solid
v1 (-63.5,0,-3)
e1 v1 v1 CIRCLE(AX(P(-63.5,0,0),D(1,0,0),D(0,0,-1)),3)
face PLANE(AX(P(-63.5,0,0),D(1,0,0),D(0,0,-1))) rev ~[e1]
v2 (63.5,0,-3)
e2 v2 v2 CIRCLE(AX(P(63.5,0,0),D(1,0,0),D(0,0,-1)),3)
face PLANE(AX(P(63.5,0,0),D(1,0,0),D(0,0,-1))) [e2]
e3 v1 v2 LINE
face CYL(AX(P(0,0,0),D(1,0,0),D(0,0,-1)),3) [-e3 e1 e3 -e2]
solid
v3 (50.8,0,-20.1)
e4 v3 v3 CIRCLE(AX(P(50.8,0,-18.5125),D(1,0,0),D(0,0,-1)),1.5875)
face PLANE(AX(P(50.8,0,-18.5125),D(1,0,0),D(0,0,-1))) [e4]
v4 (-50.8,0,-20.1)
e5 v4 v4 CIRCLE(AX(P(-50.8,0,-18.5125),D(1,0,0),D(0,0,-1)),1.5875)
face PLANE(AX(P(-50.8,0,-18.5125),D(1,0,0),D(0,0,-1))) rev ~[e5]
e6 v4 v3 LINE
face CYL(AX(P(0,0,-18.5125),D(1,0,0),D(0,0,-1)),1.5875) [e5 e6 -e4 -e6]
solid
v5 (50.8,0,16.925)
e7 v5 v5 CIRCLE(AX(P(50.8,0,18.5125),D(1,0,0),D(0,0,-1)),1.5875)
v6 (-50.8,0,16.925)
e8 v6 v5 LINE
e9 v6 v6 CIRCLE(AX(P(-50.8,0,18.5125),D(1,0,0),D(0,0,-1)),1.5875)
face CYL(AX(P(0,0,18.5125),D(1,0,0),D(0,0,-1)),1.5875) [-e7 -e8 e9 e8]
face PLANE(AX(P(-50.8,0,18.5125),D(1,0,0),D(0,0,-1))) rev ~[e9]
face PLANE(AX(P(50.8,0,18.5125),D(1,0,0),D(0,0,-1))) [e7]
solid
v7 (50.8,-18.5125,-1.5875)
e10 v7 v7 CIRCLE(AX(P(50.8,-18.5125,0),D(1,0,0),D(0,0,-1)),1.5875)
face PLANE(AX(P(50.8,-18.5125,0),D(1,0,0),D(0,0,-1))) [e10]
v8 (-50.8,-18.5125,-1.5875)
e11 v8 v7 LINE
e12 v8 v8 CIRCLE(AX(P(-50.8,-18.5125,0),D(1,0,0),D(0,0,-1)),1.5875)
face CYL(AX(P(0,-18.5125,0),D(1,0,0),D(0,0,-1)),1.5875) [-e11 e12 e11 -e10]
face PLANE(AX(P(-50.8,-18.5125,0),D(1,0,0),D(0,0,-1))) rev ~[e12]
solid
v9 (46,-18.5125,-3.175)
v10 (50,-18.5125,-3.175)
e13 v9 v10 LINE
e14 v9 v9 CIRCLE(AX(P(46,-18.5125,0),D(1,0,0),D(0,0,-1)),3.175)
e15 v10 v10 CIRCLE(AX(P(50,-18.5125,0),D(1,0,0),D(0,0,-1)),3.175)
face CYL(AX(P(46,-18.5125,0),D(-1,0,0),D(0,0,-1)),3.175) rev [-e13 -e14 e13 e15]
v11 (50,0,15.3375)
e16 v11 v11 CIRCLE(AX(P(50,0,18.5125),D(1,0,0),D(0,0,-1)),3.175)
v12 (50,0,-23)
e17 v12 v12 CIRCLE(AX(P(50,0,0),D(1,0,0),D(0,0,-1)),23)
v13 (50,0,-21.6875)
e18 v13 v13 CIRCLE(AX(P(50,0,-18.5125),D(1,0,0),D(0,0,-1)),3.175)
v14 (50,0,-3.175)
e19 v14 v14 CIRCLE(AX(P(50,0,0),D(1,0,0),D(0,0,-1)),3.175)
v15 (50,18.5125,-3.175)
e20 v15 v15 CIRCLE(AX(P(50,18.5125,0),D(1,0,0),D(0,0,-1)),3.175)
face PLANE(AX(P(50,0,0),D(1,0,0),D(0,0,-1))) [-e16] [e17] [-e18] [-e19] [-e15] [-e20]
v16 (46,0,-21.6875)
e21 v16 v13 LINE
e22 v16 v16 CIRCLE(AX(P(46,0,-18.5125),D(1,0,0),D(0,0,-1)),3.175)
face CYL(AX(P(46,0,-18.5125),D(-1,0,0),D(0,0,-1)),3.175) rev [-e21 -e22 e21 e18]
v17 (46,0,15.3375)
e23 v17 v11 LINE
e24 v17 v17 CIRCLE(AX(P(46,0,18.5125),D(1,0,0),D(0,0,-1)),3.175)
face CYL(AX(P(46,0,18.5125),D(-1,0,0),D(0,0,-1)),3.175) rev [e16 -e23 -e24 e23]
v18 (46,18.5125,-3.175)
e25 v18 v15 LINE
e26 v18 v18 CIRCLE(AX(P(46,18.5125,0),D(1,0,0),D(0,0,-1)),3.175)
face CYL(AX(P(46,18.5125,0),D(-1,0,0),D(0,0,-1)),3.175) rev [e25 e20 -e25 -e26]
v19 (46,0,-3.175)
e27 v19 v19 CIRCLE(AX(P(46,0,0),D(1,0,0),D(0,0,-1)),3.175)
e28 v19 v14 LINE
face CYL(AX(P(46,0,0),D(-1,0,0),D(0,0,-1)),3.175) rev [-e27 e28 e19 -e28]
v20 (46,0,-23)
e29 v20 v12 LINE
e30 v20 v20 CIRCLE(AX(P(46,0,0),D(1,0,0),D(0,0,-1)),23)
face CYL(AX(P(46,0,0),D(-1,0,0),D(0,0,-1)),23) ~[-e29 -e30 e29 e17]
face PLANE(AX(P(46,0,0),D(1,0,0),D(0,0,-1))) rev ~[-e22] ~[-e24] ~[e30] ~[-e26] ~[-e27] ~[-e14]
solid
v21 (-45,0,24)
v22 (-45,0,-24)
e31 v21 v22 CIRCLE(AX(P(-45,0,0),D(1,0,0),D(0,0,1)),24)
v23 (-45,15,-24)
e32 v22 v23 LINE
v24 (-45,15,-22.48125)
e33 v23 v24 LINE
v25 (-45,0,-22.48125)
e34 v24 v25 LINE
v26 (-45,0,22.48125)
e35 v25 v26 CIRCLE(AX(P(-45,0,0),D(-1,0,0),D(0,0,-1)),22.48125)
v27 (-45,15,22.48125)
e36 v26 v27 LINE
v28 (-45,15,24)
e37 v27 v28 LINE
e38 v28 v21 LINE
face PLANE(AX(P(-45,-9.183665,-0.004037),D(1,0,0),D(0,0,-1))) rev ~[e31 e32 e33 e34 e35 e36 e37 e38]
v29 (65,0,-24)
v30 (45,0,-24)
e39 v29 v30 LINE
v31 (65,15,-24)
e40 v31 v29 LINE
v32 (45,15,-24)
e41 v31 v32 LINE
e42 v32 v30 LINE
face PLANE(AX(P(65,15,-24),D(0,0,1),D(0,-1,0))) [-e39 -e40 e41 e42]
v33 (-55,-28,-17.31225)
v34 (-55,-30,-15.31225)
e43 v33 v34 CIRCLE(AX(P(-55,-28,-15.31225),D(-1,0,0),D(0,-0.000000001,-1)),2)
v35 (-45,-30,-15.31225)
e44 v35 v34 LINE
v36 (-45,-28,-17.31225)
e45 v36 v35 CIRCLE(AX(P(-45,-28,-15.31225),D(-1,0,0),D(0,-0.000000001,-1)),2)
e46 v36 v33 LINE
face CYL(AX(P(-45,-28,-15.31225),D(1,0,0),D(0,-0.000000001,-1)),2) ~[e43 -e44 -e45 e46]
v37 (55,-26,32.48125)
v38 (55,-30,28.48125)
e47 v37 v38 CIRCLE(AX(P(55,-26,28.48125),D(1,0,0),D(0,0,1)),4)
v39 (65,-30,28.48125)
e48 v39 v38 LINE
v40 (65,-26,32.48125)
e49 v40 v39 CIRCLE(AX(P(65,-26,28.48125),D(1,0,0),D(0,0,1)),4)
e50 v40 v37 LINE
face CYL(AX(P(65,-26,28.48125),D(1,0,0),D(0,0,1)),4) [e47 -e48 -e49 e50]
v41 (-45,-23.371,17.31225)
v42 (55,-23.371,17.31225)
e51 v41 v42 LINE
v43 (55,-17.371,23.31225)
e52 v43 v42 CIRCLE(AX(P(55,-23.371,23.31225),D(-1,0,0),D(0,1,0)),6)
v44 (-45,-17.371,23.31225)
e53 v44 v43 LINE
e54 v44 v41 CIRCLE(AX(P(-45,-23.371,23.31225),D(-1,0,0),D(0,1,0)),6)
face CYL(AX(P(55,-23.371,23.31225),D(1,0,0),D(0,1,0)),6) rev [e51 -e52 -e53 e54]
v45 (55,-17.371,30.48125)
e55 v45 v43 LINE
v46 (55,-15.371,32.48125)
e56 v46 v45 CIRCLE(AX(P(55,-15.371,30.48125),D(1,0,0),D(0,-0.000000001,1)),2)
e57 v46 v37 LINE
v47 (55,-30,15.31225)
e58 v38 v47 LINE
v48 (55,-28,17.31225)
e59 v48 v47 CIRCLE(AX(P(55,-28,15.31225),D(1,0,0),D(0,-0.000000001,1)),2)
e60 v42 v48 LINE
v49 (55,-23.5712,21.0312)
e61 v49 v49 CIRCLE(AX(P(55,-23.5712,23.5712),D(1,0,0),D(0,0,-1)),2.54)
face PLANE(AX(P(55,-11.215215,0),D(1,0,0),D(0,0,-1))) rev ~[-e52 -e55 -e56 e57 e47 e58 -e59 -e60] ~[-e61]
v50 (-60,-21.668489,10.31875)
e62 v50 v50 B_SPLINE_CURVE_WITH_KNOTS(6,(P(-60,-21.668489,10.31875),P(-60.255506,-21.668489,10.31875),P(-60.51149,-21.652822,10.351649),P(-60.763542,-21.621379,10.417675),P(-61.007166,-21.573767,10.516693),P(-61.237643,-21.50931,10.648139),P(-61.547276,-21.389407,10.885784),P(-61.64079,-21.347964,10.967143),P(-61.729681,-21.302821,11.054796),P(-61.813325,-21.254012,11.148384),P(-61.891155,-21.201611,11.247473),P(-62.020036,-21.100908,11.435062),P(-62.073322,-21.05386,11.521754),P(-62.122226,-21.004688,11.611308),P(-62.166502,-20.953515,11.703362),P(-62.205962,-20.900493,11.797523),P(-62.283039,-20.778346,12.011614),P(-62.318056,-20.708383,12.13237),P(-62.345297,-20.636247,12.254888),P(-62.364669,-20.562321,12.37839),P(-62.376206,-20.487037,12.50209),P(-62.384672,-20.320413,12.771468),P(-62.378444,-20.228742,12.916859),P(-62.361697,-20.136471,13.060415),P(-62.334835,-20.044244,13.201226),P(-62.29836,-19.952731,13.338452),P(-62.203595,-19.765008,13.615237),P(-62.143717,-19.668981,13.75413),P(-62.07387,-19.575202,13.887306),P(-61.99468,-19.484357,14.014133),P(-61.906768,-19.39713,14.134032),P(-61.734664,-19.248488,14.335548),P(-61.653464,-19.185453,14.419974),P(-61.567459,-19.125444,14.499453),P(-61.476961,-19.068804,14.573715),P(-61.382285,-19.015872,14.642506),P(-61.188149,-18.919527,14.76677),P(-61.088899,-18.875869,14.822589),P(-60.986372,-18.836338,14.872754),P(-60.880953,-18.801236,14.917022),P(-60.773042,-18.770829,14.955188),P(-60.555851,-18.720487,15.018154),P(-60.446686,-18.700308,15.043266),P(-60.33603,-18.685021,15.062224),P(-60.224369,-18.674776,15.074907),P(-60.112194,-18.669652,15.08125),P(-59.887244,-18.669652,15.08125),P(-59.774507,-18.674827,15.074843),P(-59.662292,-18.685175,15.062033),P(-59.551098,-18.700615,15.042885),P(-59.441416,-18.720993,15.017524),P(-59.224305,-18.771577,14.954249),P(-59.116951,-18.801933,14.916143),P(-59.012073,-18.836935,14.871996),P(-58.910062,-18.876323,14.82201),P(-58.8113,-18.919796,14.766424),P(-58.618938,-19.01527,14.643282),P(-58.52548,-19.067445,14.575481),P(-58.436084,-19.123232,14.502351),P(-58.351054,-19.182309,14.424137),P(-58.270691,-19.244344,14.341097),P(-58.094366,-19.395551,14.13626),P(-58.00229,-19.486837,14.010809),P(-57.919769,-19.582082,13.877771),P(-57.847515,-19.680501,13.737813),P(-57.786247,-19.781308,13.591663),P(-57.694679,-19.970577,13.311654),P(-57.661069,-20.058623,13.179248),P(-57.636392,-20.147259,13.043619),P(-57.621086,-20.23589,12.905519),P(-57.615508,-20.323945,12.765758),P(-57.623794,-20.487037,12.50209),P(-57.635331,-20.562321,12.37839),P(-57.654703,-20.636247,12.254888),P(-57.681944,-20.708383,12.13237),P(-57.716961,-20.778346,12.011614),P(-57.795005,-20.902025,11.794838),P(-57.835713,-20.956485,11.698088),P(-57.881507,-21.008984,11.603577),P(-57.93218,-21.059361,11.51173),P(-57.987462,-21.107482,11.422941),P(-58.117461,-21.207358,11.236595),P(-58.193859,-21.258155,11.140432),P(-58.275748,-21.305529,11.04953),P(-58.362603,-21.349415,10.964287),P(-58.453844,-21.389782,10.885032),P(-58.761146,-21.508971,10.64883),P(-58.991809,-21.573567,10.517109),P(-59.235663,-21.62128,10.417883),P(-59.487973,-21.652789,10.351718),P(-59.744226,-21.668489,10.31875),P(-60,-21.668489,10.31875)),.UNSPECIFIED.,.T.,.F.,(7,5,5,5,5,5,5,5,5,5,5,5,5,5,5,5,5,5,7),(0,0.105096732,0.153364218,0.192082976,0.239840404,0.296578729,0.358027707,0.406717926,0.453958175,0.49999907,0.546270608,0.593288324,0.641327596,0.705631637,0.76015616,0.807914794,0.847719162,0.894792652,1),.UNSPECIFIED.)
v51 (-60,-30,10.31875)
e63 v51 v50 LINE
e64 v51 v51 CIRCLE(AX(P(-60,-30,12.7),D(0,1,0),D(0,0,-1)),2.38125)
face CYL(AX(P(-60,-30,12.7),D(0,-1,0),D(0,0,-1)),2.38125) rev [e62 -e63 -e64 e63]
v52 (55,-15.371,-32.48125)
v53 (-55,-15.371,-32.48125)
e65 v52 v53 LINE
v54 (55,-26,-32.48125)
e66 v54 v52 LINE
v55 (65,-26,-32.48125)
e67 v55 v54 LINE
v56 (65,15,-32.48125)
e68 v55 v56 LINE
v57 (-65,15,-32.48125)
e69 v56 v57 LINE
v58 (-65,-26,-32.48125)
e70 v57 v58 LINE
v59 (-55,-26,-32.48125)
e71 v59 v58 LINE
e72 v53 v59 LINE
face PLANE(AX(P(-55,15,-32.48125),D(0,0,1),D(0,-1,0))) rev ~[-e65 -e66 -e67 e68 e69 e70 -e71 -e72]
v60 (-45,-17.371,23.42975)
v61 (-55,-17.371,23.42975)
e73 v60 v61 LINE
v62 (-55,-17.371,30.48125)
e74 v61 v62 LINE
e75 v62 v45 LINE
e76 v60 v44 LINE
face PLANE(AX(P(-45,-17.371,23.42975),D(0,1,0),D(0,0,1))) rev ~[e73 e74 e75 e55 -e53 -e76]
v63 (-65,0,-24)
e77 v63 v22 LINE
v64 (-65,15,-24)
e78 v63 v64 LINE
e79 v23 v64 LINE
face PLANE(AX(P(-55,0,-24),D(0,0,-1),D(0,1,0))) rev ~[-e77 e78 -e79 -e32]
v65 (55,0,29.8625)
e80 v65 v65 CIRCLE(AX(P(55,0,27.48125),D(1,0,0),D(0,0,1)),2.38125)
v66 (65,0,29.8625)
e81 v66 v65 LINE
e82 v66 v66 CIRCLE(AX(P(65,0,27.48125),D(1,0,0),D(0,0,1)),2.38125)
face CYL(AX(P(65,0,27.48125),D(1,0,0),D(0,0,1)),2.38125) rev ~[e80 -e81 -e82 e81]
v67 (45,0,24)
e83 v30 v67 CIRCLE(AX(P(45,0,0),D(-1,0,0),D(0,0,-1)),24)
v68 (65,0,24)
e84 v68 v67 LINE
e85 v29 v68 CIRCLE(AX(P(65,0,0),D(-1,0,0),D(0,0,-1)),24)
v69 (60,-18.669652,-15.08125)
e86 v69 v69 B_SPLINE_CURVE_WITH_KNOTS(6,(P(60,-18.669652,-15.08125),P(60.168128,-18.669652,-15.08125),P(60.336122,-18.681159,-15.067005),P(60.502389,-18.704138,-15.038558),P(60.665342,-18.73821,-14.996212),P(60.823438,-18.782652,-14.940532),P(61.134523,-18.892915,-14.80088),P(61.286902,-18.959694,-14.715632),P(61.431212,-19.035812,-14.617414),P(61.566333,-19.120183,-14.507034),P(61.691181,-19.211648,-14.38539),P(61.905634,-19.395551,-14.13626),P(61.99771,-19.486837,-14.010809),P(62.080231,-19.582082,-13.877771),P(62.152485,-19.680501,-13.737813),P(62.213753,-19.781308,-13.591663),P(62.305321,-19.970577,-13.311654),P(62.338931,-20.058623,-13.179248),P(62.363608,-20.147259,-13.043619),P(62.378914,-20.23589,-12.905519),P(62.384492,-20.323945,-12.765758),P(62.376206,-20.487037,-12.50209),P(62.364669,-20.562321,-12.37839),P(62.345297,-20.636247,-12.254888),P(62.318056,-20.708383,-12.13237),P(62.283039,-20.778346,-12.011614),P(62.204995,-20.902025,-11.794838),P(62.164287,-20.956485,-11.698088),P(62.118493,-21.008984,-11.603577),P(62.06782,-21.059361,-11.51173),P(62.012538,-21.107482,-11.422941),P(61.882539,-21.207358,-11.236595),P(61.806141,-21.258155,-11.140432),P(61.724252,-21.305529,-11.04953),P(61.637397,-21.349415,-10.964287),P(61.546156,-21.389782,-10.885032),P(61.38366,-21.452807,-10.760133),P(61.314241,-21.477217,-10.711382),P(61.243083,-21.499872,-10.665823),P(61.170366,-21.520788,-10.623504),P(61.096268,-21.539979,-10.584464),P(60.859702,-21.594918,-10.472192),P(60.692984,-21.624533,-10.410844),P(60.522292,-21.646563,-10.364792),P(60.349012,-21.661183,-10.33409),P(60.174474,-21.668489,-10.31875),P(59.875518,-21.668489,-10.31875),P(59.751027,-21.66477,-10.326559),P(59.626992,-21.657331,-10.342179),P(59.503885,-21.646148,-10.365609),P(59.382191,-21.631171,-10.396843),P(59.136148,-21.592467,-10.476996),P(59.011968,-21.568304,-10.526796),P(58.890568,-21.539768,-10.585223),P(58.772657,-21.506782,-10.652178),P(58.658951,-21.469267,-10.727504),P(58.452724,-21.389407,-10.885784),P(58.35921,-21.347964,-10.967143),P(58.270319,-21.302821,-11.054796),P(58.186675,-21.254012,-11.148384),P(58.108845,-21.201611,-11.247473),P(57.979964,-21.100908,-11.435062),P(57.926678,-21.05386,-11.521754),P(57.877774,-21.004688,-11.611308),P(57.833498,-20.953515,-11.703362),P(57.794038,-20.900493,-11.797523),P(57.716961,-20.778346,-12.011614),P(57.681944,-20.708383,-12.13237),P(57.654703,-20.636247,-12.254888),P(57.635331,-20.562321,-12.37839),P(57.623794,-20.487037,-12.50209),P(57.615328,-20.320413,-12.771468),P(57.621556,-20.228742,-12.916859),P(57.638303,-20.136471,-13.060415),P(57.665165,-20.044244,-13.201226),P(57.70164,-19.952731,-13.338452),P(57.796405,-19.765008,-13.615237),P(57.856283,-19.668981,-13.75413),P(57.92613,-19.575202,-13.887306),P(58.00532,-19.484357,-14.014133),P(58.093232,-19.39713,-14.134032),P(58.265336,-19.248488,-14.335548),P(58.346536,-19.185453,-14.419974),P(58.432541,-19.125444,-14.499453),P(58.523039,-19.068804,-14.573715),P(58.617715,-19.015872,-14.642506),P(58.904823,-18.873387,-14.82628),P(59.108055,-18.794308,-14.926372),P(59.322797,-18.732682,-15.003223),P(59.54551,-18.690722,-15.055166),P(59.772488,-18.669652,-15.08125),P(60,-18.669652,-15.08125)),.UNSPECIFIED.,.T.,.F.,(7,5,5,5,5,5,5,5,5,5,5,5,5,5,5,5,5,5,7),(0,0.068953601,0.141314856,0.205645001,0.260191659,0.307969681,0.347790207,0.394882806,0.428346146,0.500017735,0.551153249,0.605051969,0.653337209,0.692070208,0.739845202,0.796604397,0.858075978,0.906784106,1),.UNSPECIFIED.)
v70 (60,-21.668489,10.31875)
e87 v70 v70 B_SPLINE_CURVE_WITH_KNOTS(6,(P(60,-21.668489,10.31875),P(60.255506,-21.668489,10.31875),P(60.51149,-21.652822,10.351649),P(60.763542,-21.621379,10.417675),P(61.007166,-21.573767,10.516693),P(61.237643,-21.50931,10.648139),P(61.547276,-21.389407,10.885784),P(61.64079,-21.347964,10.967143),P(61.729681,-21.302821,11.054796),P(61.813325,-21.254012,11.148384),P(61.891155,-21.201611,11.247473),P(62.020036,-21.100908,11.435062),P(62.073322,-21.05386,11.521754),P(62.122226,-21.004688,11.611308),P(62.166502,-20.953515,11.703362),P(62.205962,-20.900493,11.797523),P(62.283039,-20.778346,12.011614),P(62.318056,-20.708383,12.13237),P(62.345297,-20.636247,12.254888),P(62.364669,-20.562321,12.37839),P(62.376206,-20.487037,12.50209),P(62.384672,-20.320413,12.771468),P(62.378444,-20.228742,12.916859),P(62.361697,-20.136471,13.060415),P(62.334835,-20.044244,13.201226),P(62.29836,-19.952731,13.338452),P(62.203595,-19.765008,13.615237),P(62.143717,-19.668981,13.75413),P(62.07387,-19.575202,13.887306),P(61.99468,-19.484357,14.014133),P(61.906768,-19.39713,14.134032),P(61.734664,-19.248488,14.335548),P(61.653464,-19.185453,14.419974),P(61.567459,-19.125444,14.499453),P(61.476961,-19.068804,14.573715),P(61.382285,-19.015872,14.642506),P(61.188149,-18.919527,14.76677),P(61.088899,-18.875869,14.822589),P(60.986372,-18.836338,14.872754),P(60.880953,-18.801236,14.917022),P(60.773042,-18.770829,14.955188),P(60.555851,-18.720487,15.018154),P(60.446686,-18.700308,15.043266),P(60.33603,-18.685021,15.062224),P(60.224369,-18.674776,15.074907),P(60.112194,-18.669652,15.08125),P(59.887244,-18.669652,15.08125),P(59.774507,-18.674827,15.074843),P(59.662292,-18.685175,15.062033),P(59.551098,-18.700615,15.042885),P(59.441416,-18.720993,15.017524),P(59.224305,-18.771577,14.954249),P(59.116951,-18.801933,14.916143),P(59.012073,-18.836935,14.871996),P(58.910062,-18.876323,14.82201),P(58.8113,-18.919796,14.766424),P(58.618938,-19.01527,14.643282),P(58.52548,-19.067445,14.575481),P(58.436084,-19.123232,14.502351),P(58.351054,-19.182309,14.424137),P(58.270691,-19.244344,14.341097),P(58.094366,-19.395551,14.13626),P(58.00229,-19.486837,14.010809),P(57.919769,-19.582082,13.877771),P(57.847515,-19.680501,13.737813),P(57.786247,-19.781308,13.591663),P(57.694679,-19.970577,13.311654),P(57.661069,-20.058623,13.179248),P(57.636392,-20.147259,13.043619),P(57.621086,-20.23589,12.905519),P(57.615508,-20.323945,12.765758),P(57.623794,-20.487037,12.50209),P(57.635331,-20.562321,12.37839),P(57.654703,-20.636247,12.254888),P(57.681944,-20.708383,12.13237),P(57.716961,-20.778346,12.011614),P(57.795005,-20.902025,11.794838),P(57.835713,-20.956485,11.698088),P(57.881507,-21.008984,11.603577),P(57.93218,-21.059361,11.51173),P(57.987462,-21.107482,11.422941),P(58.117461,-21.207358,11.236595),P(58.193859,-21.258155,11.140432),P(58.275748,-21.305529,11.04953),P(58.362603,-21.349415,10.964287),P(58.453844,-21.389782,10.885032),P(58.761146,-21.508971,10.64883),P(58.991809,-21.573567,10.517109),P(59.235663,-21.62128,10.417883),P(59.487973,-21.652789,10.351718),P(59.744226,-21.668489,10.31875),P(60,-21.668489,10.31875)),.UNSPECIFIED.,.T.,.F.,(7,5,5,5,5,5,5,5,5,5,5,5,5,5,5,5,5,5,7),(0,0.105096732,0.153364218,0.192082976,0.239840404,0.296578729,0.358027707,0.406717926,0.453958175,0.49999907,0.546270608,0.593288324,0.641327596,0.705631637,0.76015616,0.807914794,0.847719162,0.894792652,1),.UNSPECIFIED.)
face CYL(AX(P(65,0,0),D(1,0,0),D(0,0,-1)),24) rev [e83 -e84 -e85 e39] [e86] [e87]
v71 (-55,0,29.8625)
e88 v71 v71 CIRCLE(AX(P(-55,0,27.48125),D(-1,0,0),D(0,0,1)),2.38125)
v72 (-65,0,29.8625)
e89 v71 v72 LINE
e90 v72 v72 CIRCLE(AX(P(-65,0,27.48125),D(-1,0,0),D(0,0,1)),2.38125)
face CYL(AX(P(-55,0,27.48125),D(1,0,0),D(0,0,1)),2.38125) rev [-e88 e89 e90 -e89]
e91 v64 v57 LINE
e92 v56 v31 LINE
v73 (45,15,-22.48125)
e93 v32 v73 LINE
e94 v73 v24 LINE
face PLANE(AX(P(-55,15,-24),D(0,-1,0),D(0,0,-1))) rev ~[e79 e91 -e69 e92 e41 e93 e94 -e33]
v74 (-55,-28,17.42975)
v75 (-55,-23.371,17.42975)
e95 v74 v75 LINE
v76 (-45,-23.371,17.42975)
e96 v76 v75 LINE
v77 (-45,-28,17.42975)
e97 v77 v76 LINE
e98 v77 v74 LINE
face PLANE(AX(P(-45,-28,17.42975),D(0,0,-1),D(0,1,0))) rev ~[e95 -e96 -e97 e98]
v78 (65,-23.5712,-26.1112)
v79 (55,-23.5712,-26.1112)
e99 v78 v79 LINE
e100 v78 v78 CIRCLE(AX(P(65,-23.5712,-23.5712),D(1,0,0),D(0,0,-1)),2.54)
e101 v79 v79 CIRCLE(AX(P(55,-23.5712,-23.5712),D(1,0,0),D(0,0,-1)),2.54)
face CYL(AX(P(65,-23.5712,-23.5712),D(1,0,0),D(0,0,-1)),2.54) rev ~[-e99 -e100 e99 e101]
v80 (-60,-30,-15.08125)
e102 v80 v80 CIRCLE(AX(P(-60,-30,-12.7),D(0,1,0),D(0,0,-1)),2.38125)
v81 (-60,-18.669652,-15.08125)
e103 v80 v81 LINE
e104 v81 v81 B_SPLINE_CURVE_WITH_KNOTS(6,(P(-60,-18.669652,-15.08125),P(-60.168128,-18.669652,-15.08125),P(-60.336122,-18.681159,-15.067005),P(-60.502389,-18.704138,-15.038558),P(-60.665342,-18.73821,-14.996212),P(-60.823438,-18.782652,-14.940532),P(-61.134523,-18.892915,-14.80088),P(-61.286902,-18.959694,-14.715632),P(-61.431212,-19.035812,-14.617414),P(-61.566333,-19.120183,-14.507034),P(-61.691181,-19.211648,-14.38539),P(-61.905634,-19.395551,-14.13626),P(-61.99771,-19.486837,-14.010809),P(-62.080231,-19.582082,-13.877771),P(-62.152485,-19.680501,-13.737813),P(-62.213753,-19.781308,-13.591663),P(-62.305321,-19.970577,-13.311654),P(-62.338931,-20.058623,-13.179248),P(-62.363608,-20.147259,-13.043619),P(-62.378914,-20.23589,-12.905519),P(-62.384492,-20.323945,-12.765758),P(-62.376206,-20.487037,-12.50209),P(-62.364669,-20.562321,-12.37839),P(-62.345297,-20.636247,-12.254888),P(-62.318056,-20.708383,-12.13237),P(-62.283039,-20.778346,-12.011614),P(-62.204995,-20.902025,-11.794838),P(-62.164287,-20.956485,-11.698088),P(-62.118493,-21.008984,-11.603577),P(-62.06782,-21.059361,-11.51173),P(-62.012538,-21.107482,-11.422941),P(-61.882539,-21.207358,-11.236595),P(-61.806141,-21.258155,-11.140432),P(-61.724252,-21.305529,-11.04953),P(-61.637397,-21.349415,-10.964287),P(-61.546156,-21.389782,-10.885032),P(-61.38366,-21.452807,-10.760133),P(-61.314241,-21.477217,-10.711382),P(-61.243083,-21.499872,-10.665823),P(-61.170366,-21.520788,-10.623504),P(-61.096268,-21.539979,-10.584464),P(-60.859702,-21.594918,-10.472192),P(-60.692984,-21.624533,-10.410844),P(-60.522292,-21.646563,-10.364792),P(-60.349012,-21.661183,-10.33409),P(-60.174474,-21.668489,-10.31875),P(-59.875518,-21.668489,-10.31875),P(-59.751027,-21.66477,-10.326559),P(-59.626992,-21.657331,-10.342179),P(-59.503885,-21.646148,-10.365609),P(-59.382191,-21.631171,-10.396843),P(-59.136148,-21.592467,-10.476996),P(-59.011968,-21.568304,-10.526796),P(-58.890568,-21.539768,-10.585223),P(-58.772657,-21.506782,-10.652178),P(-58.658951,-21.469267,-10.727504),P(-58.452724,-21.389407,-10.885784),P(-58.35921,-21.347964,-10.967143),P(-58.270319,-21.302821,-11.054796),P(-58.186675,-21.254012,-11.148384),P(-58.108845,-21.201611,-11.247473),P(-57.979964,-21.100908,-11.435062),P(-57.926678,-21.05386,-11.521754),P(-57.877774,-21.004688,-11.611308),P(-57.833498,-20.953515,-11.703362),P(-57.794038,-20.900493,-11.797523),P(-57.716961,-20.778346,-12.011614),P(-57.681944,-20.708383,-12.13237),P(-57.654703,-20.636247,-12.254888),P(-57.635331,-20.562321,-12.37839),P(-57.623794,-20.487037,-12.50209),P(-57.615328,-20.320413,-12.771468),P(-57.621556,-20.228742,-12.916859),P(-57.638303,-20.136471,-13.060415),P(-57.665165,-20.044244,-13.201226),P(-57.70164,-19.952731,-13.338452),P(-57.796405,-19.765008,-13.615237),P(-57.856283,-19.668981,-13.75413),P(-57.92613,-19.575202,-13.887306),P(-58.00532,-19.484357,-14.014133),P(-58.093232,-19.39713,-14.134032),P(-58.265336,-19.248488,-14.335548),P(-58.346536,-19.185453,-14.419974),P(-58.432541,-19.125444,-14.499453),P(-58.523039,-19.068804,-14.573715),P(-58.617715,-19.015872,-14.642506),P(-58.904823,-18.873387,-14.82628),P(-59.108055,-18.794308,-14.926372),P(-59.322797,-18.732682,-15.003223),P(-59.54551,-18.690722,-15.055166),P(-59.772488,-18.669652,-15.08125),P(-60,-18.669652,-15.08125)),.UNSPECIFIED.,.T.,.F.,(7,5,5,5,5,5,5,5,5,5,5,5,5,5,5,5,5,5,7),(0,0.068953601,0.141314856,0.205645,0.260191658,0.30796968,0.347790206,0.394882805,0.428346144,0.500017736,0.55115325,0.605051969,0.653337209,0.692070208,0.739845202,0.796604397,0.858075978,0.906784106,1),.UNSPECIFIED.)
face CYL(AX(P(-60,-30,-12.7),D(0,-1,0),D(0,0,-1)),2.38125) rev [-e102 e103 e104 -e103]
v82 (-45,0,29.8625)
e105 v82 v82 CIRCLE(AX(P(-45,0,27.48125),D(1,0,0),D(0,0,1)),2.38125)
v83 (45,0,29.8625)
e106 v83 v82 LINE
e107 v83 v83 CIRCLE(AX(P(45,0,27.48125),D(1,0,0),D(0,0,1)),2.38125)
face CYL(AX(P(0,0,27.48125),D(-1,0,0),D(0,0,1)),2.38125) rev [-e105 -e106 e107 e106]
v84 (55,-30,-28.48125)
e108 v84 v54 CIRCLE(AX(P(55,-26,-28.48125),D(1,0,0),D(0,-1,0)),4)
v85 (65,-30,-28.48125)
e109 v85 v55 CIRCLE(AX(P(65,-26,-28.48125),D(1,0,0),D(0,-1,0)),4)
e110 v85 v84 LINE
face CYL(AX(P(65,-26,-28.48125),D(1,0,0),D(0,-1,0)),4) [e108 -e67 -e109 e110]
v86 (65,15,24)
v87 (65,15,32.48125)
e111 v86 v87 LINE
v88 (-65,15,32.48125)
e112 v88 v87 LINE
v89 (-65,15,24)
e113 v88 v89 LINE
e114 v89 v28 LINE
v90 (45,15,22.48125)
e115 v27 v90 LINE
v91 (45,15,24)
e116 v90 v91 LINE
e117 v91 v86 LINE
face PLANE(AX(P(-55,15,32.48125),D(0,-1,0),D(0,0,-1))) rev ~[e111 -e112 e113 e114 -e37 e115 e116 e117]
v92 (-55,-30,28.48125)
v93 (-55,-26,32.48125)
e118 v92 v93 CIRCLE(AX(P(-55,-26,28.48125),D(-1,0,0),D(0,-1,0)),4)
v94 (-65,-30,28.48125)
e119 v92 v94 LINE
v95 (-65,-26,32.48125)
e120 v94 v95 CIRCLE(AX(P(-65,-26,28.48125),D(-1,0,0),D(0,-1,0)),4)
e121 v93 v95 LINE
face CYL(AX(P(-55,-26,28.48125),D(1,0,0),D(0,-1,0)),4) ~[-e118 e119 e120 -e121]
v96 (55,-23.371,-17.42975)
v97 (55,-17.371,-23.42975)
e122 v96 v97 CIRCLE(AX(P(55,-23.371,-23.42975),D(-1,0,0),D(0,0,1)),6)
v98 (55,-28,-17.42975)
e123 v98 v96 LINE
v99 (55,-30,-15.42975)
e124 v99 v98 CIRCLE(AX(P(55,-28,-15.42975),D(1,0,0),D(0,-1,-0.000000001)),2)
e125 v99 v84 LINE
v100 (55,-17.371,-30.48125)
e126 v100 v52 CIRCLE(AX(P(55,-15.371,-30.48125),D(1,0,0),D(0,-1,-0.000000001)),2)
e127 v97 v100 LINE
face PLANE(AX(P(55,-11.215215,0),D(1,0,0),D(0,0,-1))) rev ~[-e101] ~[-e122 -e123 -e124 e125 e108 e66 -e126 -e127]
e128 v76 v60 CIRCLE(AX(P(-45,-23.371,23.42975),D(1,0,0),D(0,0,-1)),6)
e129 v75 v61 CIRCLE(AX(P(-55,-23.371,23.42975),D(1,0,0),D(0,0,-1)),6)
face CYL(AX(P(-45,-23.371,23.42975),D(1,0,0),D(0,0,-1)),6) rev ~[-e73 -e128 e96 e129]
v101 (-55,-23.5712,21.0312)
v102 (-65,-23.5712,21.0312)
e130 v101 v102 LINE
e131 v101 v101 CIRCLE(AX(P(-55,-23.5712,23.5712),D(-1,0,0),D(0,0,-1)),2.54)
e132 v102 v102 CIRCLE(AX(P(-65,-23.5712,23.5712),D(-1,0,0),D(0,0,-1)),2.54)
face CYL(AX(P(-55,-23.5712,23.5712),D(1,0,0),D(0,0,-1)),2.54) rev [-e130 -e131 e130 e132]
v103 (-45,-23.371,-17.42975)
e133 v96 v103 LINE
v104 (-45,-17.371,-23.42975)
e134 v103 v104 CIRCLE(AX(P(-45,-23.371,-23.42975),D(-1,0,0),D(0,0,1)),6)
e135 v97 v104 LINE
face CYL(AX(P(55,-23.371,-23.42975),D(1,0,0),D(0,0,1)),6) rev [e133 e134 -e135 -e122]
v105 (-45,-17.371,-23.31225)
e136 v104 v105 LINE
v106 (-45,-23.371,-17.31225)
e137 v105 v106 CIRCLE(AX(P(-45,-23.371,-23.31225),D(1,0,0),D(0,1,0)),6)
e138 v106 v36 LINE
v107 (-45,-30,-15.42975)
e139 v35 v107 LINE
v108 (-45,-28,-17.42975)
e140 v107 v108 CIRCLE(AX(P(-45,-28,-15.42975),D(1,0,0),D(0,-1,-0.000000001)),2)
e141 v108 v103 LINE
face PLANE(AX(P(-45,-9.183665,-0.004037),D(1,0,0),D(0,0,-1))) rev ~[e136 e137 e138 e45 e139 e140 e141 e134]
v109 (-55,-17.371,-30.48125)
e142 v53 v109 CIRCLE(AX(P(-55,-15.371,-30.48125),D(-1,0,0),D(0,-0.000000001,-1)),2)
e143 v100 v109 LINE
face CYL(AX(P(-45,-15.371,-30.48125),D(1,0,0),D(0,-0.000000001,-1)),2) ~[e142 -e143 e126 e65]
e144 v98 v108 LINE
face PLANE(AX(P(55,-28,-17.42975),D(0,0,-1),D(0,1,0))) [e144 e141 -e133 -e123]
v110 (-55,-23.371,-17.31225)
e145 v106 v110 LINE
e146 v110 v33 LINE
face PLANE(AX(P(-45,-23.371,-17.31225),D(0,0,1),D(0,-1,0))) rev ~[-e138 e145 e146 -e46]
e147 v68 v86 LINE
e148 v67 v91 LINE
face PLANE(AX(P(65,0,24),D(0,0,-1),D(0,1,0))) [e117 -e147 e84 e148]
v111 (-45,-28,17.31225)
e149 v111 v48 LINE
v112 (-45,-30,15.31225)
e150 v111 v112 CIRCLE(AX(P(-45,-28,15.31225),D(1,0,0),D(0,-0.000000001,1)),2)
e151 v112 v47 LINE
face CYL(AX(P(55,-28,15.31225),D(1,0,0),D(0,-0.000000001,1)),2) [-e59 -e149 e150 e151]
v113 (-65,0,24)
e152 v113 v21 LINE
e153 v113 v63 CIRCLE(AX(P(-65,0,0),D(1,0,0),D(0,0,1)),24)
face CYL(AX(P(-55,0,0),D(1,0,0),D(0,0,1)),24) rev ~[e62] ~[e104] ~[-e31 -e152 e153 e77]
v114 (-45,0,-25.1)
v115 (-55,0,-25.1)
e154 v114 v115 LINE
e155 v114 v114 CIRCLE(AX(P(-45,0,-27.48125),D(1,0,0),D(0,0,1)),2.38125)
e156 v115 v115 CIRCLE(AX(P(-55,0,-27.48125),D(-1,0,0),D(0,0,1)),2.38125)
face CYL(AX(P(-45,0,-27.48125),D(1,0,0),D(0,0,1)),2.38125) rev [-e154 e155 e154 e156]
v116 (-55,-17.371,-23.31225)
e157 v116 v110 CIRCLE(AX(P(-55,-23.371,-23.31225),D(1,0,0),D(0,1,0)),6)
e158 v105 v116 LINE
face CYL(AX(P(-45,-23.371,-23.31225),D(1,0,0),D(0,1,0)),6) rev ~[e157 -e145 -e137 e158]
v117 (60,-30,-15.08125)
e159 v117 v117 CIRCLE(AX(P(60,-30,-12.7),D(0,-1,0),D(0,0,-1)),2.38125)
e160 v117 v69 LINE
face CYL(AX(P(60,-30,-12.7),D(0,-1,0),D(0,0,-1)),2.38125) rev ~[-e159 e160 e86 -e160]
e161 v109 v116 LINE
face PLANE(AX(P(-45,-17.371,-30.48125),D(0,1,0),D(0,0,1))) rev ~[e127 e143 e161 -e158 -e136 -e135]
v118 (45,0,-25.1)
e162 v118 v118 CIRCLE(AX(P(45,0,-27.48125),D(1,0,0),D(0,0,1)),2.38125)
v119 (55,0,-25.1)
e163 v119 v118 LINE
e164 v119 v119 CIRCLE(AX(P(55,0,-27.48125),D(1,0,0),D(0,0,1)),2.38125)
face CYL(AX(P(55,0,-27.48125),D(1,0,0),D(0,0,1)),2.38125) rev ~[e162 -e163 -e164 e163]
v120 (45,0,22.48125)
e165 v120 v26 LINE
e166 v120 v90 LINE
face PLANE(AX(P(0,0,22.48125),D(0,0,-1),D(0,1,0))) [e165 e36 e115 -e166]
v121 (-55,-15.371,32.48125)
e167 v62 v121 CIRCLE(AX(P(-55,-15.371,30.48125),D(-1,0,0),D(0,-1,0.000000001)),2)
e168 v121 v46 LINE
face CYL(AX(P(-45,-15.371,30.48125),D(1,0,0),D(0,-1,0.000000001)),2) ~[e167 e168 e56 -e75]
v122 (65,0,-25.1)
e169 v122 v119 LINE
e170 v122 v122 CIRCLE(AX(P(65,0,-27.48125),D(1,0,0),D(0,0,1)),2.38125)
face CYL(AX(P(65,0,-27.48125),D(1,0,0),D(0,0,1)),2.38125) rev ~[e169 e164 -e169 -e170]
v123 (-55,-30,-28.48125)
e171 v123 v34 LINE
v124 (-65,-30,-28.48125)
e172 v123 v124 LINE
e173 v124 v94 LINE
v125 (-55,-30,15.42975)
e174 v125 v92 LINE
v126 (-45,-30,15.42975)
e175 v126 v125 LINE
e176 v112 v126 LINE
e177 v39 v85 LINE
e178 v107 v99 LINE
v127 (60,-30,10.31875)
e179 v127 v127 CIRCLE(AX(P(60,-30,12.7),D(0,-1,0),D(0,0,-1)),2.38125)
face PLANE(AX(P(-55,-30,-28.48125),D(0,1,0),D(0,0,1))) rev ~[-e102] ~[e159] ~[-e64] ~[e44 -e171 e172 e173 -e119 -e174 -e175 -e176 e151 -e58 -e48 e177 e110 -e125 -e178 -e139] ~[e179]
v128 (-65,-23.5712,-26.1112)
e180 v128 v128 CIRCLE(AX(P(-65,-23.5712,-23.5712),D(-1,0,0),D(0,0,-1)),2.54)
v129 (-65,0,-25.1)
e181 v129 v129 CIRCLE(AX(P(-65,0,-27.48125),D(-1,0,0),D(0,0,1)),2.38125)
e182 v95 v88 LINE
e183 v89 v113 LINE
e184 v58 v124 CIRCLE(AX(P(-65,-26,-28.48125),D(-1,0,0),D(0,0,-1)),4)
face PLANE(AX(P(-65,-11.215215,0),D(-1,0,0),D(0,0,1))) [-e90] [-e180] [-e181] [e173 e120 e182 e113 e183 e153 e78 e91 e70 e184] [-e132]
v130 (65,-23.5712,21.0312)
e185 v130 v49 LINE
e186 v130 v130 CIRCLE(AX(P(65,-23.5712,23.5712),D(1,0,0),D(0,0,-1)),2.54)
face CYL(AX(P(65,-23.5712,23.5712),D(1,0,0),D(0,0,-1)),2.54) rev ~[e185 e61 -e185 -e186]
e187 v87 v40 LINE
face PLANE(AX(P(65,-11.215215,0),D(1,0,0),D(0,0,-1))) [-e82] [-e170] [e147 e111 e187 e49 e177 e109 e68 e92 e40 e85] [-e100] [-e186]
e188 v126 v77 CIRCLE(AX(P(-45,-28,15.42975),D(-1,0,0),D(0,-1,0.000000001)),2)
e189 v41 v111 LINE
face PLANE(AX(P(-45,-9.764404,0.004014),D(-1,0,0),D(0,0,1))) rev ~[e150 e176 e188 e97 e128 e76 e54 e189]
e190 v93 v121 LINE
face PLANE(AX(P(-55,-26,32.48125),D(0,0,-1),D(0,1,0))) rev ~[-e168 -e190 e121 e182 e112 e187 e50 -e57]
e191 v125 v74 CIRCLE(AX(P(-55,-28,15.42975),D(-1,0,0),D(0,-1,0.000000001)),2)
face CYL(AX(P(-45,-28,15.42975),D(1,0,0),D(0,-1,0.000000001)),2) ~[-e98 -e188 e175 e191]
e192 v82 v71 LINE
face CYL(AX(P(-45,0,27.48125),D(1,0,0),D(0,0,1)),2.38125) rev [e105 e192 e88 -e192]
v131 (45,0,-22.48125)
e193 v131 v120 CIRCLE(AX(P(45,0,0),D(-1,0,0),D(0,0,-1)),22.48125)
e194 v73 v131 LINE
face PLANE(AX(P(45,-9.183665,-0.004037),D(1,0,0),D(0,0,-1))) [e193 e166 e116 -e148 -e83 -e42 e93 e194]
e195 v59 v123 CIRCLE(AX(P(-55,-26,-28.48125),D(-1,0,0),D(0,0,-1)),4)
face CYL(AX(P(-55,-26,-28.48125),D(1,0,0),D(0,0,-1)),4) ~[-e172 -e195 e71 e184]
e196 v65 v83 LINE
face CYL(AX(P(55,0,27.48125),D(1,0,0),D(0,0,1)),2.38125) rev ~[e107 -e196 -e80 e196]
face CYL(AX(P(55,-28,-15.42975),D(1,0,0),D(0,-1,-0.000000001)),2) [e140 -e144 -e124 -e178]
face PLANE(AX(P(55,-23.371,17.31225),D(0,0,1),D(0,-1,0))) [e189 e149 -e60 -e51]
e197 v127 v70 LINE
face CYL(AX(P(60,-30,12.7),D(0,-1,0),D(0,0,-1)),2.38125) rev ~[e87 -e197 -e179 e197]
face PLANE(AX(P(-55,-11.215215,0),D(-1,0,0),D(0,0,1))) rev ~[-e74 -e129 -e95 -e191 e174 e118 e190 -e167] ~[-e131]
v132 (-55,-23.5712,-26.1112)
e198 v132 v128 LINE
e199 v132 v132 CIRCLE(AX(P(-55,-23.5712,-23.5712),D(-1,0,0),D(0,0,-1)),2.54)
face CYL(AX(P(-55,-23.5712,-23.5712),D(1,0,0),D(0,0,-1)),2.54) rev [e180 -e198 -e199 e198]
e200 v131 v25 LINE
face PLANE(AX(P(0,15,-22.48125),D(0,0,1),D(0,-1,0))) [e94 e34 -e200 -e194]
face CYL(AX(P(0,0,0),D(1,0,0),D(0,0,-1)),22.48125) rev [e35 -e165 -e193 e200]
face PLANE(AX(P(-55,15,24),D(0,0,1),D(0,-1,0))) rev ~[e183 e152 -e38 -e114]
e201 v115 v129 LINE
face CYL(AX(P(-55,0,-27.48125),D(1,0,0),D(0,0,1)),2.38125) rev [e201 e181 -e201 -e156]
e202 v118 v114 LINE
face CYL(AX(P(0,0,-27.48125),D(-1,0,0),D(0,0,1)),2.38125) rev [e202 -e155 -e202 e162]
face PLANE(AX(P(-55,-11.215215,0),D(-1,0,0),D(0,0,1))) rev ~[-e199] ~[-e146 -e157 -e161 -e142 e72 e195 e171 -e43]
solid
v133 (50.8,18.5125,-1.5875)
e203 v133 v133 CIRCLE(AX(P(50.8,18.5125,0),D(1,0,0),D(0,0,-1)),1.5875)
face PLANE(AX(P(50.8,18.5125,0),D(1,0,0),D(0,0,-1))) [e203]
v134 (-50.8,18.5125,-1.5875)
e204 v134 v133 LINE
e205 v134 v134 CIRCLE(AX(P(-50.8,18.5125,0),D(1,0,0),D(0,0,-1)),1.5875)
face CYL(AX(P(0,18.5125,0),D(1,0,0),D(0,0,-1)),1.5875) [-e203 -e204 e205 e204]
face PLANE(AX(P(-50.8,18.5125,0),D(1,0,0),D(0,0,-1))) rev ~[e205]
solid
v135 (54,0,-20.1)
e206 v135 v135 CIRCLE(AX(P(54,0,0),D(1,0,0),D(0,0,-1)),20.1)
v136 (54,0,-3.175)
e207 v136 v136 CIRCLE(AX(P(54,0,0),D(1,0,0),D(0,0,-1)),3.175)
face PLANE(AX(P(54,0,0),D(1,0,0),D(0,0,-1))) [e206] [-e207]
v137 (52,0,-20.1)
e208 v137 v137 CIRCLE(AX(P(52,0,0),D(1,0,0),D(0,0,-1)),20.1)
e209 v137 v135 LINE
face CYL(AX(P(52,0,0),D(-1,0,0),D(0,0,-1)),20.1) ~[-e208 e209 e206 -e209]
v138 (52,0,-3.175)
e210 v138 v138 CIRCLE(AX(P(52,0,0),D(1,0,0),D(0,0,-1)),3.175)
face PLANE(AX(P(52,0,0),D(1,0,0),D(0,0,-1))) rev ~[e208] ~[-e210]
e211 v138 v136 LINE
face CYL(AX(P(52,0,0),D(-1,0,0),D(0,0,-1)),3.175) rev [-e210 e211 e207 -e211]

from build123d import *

# Parameters (mm, degrees)
SKETCH1_R             = 2.38125
BOSS_EXTRUDE1_DEPTH   = 45
SKETCH3_R             = 23
SKETCH3_R_2           = 3.175
BOSS_EXTRUDE2_DEPTH   = 4
SKETCH17_R            = 20.1
SKETCH17_R_2          = 3.175
BOSS_EXTRUDE4_DEPTH   = 2
SKETCH19_R            = 3
BOSS_EXTRUDE6_DEPTH   = 63.5
SKETCH20_R            = 1.5875
BOSS_EXTRUDE7_DEPTH   = 50.8
BOSS_EXTRUDE7_2_DEPTH = 50.8
BOSS_EXTRUDE7_3_DEPTH = 50.8
BOSS_EXTRUDE7_4_DEPTH = 50.8
BOSS_EXTRUDE8_START   = 10
SKETCH21_R            = 2.38125
BOSS_EXTRUDE8_DEPTH   = 10
BOSS_EXTRUDE9_START   = 10
SKETCH23_R            = 2.54
SKETCH23_R_2          = 2.38125
BOSS_EXTRUDE9_DEPTH   = 10
SKETCH24_R            = 2.38125
CUT_EXTRUDE1_DEPTH    = 50
SKETCH25_R            = 2.38125
BOSS_EXTRUDE10_DEPTH  = 10
SKETCH27_R            = 2.54
SKETCH27_R_2          = 2.38125
BOSS_EXTRUDE11_DEPTH  = 10


with BuildPart() as part:
    # Sketch1 → Boss-Extrude1 (new, symmetric)
    with BuildSketch(Plane(origin=(0, 0, 0), x_dir=(0, 0, -1), z_dir=(1, 0, 0))):
        with BuildLine():
            Line((-22.48125, 0), (-22.48125, 15))
            Line((-22.48125, 15), (-32.48125, 15))
            Line((-32.48125, 15), (-32.48125, -15.371))
            ThreePointArc((-32.48125, -15.371), (-31.895463562, -16.785213562), (-30.48125, -17.371))
            Line((-30.48125, -17.371), (-23.31225, -17.371))
            ThreePointArc((-23.31225, -17.371), (-19.069609313, -19.128359313), (-17.31225, -23.371))
            Line((-17.31225, -23.371), (-17.31225, -28))
            ThreePointArc((-17.31225, -28), (-16.726463562, -29.414213562), (-15.31225, -30))
            Line((-15.31225, -30), (15.42975, -30))
            ThreePointArc((15.42975, -30), (16.843963562, -29.414213562), (17.42975, -28))
            Line((17.42975, -28), (17.42975, -23.371))
            ThreePointArc((17.42975, -23.371), (19.187109313, -19.128359313), (23.42975, -17.371))
            Line((23.42975, -17.371), (30.05875, -17.371))
            Line((30.05875, -17.371), (30.48125, -17.371))
            ThreePointArc((30.48125, -17.371), (31.895463562, -16.785213562), (32.48125, -15.371))
            Line((32.48125, -15.371), (32.48125, 15))
            Line((32.48125, 15), (22.48125, 15))
            Line((22.48125, 15), (22.48125, 0))
            ThreePointArc((22.48125, 0), (0, -22.48125), (-22.48125, 0))
        make_face()
        with Locations(Location((-27.48125, 0, 0), (0, 0, 180))):
            Circle(SKETCH1_R, mode=Mode.SUBTRACT)
        with Locations(Location((27.48125, 0, 0), (0, 0, 180))):
            Circle(SKETCH1_R, mode=Mode.SUBTRACT)
    extrude(amount=BOSS_EXTRUDE1_DEPTH, both=True)

    # Sketch21 → Boss-Extrude8 (add)
    with BuildSketch(Plane(origin=(45, 0, 0), x_dir=(0, 0, -1), z_dir=(1, 0, 0)).offset(BOSS_EXTRUDE8_START)):
        with BuildLine():
            Line((-24, 0), (-24, 15))
            Line((-24, 15), (-32.48125, 15))
            Line((-32.48125, 15), (-32.48125, -15.371))
            ThreePointArc((-32.48125, -15.371), (-31.895463562, -16.785213562), (-30.48125, -17.371))
            Line((-30.48125, -17.371), (-23.31225, -17.371))
            ThreePointArc((-23.31225, -17.371), (-19.069609313, -19.128359313), (-17.31225, -23.371))
            Line((-17.31225, -23.371), (-17.31225, -28))
            ThreePointArc((-17.31225, -28), (-16.726463562, -29.414213562), (-15.31225, -30))
            Line((-15.31225, -30), (15.42975, -30))
            ThreePointArc((15.42975, -30), (16.843963562, -29.414213562), (17.42975, -28))
            Line((17.42975, -28), (17.42975, -23.371))
            ThreePointArc((17.42975, -23.371), (19.187109313, -19.128359313), (23.42975, -17.371))
            Line((23.42975, -17.371), (30.05875, -17.371))
            Line((30.05875, -17.371), (30.48125, -17.371))
            ThreePointArc((30.48125, -17.371), (31.895463562, -16.785213562), (32.48125, -15.371))
            Line((32.48125, -15.371), (32.48125, 15))
            Line((32.48125, 15), (24, 15))
            Line((24, 15), (24, 0))
            ThreePointArc((24, 0), (0, -24), (-24, 0))
        make_face()
        with Locations(Location((-27.48125, 0, 0), (0, 0, 180))):
            Circle(SKETCH21_R, mode=Mode.SUBTRACT)
        with Locations(Location((27.48125, 0, 0), (0, 0, 180))):
            Circle(SKETCH21_R, mode=Mode.SUBTRACT)
    extrude(amount=-BOSS_EXTRUDE8_DEPTH)

    # Sketch23 → Boss-Extrude9 (add)
    with BuildSketch(Plane(origin=(55, 0, 0), x_dir=(0, 0, -1), z_dir=(1, 0, 0)).offset(BOSS_EXTRUDE9_START)):
        with BuildLine():
            Line((-24, 0), (-24, 15))
            Line((-24, 15), (-32.48125, 15))
            Line((-32.48125, 15), (-32.48125, -26))
            ThreePointArc((-32.48125, -26), (-31.309677125, -28.828427125), (-28.48125, -30))
            Line((-28.48125, -30), (28.48125, -30))
            ThreePointArc((28.48125, -30), (31.309677125, -28.828427125), (32.48125, -26))
            Line((32.48125, -26), (32.48125, 15))
            Line((32.48125, 15), (24, 15))
            Line((24, 15), (24, 0))
            ThreePointArc((24, 0), (0, -24), (-24, 0))
        make_face()
        with Locations((-23.5712, -23.5712)):
            Circle(SKETCH23_R, mode=Mode.SUBTRACT)
        with Locations((23.5712, -23.5712)):
            Circle(SKETCH23_R, mode=Mode.SUBTRACT)
        with Locations(Location((-27.48125, 0, 0), (0, 0, 180))):
            Circle(SKETCH23_R_2, mode=Mode.SUBTRACT)
        with Locations(Location((27.48125, 0, 0), (0, 0, 180))):
            Circle(SKETCH23_R_2, mode=Mode.SUBTRACT)
    extrude(amount=-BOSS_EXTRUDE9_DEPTH)

    # Sketch24 → Cut-Extrude1 (cut)
    with BuildSketch(Plane.XZ.offset(30)):
        with Locations(Location((60, 12.7, 0), (0, 0, 270))):
            Circle(SKETCH24_R)
        with Locations(Location((60, -12.7, 0), (0, 0, 270))):
            Circle(SKETCH24_R)
    cut_extrude1 = extrude(amount=-CUT_EXTRUDE1_DEPTH, mode=Mode.SUBTRACT)

    # Sketch25 → Boss-Extrude10 (add)
    with BuildSketch(Plane.ZY.offset(45)):
        with BuildLine():
            Line((-24, 0), (-24, 15))
            Line((-24, 15), (-32.48125, 15))
            Line((-32.48125, 15), (-32.48125, -15.371))
            ThreePointArc((-32.48125, -15.371), (-31.895463562, -16.785213562), (-30.48125, -17.371))
            Line((-30.48125, -17.371), (-23.31225, -17.371))
            ThreePointArc((-23.31225, -17.371), (-19.069609313, -19.128359313), (-17.31225, -23.371))
            Line((-17.31225, -23.371), (-17.31225, -28))
            ThreePointArc((-17.31225, -28), (-16.726463562, -29.414213562), (-15.31225, -30))
            Line((-15.31225, -30), (15.42975, -30))
            ThreePointArc((15.42975, -30), (16.843963562, -29.414213562), (17.42975, -28))
            Line((17.42975, -28), (17.42975, -23.371))
            ThreePointArc((17.42975, -23.371), (19.187109313, -19.128359313), (23.42975, -17.371))
            Line((23.42975, -17.371), (30.05875, -17.371))
            Line((30.05875, -17.371), (30.48125, -17.371))
            ThreePointArc((30.48125, -17.371), (31.895463562, -16.785213562), (32.48125, -15.371))
            Line((32.48125, -15.371), (32.48125, 15))
            Line((32.48125, 15), (24, 15))
            Line((24, 15), (24, 0))
            ThreePointArc((24, 0), (0, -24), (-24, 0))
        make_face()
        with Locations((-27.48125, 0)):
            Circle(SKETCH25_R, mode=Mode.SUBTRACT)
        with Locations((27.48125, 0)):
            Circle(SKETCH25_R, mode=Mode.SUBTRACT)
    extrude(amount=BOSS_EXTRUDE10_DEPTH)

    # Sketch27 → Boss-Extrude11 (add)
    with BuildSketch(Plane.ZY.offset(55)):
        with BuildLine():
            Line((-24, 0), (-24, 15))
            Line((-24, 15), (-32.48125, 15))
            Line((-32.48125, 15), (-32.48125, -26))
            ThreePointArc((-32.48125, -26), (-31.309677125, -28.828427125), (-28.48125, -30))
            Line((-28.48125, -30), (28.48125, -30))
            ThreePointArc((28.48125, -30), (31.309677125, -28.828427125), (32.48125, -26))
            Line((32.48125, -26), (32.48125, 15))
            Line((32.48125, 15), (24, 15))
            Line((24, 15), (24, 0))
            ThreePointArc((24, 0), (0, -24), (-24, 0))
        make_face()
        with Locations(Location((-23.5712, -23.5712, 0), (0, 0, 180))):
            Circle(SKETCH27_R, mode=Mode.SUBTRACT)
        with Locations(Location((23.5712, -23.5712, 0), (0, 0, 180))):
            Circle(SKETCH27_R, mode=Mode.SUBTRACT)
        with Locations((-27.48125, 0)):
            Circle(SKETCH27_R_2, mode=Mode.SUBTRACT)
        with Locations((27.48125, 0)):
            Circle(SKETCH27_R_2, mode=Mode.SUBTRACT)
    extrude(amount=BOSS_EXTRUDE11_DEPTH)

    # Mirror6: Cut-Extrude1 across plane
    add(cut_extrude1.mirror(Plane(origin=(0, 0, 0), x_dir=(0, 0, 1), z_dir=(1, 0, 0))), mode=Mode.SUBTRACT)


with BuildPart() as body_2:
    # Sketch3 → Boss-Extrude2 (new body)
    with BuildSketch(Plane(origin=(46, 0, 0), x_dir=(0, 0, -1), z_dir=(1, 0, 0))):
        Circle(SKETCH3_R)
        Circle(SKETCH3_R_2, mode=Mode.SUBTRACT)
        with Locations((0, 18.5125)):
            Circle(SKETCH3_R_2, mode=Mode.SUBTRACT)
        with Locations((-18.5125, 0)):
            Circle(SKETCH3_R_2, mode=Mode.SUBTRACT)
        with Locations((0, -18.5125)):
            Circle(SKETCH3_R_2, mode=Mode.SUBTRACT)
        with Locations((18.5125, 0)):
            Circle(SKETCH3_R_2, mode=Mode.SUBTRACT)
    extrude(amount=BOSS_EXTRUDE2_DEPTH)


with BuildPart() as body_3:
    # Sketch17 → Boss-Extrude4 (new body)
    with BuildSketch(Plane(origin=(52, 0, 0), x_dir=(0, 0, -1), z_dir=(1, 0, 0))):
        Circle(SKETCH17_R)
        Circle(SKETCH17_R_2, mode=Mode.SUBTRACT)
    extrude(amount=BOSS_EXTRUDE4_DEPTH)


with BuildPart() as body_4:
    # Sketch19 → Boss-Extrude6 (new, symmetric)
    with BuildSketch(Plane(origin=(0, 0, 0), x_dir=(0, 0, -1), z_dir=(1, 0, 0))):
        Circle(SKETCH19_R)
    extrude(amount=BOSS_EXTRUDE6_DEPTH, both=True)


with BuildPart() as body_5:
    # Sketch20 → Boss-Extrude7 (new, symmetric)
    with BuildSketch(Plane(origin=(0, 0, 0), x_dir=(0, 0, -1), z_dir=(1, 0, 0))):
        with Locations((0, 18.5125)):
            Circle(SKETCH20_R)
    extrude(amount=BOSS_EXTRUDE7_DEPTH, both=True)


with BuildPart() as body_6:
    # Sketch20 → Boss-Extrude7 2 (new, symmetric)
    with BuildSketch(Plane(origin=(0, 0, 0), x_dir=(0, 0, -1), z_dir=(1, 0, 0))):
        with Locations((18.5125, 0)):
            Circle(SKETCH20_R)
    extrude(amount=BOSS_EXTRUDE7_2_DEPTH, both=True)


with BuildPart() as body_7:
    # Sketch20 → Boss-Extrude7 3 (new, symmetric)
    with BuildSketch(Plane(origin=(0, 0, 0), x_dir=(0, 0, -1), z_dir=(1, 0, 0))):
        with Locations((0, -18.5125)):
            Circle(SKETCH20_R)
    extrude(amount=BOSS_EXTRUDE7_3_DEPTH, both=True)


with BuildPart() as body_8:
    # Sketch20 → Boss-Extrude7 4 (new, symmetric)
    with BuildSketch(Plane(origin=(0, 0, 0), x_dir=(0, 0, -1), z_dir=(1, 0, 0))):
        with Locations((-18.5125, 0)):
            Circle(SKETCH20_R)
    extrude(amount=BOSS_EXTRUDE7_4_DEPTH, both=True)


solid = Compound([part.part, body_2.part, body_3.part, body_4.part, body_5.part, body_6.part, body_7.part, body_8.part])
